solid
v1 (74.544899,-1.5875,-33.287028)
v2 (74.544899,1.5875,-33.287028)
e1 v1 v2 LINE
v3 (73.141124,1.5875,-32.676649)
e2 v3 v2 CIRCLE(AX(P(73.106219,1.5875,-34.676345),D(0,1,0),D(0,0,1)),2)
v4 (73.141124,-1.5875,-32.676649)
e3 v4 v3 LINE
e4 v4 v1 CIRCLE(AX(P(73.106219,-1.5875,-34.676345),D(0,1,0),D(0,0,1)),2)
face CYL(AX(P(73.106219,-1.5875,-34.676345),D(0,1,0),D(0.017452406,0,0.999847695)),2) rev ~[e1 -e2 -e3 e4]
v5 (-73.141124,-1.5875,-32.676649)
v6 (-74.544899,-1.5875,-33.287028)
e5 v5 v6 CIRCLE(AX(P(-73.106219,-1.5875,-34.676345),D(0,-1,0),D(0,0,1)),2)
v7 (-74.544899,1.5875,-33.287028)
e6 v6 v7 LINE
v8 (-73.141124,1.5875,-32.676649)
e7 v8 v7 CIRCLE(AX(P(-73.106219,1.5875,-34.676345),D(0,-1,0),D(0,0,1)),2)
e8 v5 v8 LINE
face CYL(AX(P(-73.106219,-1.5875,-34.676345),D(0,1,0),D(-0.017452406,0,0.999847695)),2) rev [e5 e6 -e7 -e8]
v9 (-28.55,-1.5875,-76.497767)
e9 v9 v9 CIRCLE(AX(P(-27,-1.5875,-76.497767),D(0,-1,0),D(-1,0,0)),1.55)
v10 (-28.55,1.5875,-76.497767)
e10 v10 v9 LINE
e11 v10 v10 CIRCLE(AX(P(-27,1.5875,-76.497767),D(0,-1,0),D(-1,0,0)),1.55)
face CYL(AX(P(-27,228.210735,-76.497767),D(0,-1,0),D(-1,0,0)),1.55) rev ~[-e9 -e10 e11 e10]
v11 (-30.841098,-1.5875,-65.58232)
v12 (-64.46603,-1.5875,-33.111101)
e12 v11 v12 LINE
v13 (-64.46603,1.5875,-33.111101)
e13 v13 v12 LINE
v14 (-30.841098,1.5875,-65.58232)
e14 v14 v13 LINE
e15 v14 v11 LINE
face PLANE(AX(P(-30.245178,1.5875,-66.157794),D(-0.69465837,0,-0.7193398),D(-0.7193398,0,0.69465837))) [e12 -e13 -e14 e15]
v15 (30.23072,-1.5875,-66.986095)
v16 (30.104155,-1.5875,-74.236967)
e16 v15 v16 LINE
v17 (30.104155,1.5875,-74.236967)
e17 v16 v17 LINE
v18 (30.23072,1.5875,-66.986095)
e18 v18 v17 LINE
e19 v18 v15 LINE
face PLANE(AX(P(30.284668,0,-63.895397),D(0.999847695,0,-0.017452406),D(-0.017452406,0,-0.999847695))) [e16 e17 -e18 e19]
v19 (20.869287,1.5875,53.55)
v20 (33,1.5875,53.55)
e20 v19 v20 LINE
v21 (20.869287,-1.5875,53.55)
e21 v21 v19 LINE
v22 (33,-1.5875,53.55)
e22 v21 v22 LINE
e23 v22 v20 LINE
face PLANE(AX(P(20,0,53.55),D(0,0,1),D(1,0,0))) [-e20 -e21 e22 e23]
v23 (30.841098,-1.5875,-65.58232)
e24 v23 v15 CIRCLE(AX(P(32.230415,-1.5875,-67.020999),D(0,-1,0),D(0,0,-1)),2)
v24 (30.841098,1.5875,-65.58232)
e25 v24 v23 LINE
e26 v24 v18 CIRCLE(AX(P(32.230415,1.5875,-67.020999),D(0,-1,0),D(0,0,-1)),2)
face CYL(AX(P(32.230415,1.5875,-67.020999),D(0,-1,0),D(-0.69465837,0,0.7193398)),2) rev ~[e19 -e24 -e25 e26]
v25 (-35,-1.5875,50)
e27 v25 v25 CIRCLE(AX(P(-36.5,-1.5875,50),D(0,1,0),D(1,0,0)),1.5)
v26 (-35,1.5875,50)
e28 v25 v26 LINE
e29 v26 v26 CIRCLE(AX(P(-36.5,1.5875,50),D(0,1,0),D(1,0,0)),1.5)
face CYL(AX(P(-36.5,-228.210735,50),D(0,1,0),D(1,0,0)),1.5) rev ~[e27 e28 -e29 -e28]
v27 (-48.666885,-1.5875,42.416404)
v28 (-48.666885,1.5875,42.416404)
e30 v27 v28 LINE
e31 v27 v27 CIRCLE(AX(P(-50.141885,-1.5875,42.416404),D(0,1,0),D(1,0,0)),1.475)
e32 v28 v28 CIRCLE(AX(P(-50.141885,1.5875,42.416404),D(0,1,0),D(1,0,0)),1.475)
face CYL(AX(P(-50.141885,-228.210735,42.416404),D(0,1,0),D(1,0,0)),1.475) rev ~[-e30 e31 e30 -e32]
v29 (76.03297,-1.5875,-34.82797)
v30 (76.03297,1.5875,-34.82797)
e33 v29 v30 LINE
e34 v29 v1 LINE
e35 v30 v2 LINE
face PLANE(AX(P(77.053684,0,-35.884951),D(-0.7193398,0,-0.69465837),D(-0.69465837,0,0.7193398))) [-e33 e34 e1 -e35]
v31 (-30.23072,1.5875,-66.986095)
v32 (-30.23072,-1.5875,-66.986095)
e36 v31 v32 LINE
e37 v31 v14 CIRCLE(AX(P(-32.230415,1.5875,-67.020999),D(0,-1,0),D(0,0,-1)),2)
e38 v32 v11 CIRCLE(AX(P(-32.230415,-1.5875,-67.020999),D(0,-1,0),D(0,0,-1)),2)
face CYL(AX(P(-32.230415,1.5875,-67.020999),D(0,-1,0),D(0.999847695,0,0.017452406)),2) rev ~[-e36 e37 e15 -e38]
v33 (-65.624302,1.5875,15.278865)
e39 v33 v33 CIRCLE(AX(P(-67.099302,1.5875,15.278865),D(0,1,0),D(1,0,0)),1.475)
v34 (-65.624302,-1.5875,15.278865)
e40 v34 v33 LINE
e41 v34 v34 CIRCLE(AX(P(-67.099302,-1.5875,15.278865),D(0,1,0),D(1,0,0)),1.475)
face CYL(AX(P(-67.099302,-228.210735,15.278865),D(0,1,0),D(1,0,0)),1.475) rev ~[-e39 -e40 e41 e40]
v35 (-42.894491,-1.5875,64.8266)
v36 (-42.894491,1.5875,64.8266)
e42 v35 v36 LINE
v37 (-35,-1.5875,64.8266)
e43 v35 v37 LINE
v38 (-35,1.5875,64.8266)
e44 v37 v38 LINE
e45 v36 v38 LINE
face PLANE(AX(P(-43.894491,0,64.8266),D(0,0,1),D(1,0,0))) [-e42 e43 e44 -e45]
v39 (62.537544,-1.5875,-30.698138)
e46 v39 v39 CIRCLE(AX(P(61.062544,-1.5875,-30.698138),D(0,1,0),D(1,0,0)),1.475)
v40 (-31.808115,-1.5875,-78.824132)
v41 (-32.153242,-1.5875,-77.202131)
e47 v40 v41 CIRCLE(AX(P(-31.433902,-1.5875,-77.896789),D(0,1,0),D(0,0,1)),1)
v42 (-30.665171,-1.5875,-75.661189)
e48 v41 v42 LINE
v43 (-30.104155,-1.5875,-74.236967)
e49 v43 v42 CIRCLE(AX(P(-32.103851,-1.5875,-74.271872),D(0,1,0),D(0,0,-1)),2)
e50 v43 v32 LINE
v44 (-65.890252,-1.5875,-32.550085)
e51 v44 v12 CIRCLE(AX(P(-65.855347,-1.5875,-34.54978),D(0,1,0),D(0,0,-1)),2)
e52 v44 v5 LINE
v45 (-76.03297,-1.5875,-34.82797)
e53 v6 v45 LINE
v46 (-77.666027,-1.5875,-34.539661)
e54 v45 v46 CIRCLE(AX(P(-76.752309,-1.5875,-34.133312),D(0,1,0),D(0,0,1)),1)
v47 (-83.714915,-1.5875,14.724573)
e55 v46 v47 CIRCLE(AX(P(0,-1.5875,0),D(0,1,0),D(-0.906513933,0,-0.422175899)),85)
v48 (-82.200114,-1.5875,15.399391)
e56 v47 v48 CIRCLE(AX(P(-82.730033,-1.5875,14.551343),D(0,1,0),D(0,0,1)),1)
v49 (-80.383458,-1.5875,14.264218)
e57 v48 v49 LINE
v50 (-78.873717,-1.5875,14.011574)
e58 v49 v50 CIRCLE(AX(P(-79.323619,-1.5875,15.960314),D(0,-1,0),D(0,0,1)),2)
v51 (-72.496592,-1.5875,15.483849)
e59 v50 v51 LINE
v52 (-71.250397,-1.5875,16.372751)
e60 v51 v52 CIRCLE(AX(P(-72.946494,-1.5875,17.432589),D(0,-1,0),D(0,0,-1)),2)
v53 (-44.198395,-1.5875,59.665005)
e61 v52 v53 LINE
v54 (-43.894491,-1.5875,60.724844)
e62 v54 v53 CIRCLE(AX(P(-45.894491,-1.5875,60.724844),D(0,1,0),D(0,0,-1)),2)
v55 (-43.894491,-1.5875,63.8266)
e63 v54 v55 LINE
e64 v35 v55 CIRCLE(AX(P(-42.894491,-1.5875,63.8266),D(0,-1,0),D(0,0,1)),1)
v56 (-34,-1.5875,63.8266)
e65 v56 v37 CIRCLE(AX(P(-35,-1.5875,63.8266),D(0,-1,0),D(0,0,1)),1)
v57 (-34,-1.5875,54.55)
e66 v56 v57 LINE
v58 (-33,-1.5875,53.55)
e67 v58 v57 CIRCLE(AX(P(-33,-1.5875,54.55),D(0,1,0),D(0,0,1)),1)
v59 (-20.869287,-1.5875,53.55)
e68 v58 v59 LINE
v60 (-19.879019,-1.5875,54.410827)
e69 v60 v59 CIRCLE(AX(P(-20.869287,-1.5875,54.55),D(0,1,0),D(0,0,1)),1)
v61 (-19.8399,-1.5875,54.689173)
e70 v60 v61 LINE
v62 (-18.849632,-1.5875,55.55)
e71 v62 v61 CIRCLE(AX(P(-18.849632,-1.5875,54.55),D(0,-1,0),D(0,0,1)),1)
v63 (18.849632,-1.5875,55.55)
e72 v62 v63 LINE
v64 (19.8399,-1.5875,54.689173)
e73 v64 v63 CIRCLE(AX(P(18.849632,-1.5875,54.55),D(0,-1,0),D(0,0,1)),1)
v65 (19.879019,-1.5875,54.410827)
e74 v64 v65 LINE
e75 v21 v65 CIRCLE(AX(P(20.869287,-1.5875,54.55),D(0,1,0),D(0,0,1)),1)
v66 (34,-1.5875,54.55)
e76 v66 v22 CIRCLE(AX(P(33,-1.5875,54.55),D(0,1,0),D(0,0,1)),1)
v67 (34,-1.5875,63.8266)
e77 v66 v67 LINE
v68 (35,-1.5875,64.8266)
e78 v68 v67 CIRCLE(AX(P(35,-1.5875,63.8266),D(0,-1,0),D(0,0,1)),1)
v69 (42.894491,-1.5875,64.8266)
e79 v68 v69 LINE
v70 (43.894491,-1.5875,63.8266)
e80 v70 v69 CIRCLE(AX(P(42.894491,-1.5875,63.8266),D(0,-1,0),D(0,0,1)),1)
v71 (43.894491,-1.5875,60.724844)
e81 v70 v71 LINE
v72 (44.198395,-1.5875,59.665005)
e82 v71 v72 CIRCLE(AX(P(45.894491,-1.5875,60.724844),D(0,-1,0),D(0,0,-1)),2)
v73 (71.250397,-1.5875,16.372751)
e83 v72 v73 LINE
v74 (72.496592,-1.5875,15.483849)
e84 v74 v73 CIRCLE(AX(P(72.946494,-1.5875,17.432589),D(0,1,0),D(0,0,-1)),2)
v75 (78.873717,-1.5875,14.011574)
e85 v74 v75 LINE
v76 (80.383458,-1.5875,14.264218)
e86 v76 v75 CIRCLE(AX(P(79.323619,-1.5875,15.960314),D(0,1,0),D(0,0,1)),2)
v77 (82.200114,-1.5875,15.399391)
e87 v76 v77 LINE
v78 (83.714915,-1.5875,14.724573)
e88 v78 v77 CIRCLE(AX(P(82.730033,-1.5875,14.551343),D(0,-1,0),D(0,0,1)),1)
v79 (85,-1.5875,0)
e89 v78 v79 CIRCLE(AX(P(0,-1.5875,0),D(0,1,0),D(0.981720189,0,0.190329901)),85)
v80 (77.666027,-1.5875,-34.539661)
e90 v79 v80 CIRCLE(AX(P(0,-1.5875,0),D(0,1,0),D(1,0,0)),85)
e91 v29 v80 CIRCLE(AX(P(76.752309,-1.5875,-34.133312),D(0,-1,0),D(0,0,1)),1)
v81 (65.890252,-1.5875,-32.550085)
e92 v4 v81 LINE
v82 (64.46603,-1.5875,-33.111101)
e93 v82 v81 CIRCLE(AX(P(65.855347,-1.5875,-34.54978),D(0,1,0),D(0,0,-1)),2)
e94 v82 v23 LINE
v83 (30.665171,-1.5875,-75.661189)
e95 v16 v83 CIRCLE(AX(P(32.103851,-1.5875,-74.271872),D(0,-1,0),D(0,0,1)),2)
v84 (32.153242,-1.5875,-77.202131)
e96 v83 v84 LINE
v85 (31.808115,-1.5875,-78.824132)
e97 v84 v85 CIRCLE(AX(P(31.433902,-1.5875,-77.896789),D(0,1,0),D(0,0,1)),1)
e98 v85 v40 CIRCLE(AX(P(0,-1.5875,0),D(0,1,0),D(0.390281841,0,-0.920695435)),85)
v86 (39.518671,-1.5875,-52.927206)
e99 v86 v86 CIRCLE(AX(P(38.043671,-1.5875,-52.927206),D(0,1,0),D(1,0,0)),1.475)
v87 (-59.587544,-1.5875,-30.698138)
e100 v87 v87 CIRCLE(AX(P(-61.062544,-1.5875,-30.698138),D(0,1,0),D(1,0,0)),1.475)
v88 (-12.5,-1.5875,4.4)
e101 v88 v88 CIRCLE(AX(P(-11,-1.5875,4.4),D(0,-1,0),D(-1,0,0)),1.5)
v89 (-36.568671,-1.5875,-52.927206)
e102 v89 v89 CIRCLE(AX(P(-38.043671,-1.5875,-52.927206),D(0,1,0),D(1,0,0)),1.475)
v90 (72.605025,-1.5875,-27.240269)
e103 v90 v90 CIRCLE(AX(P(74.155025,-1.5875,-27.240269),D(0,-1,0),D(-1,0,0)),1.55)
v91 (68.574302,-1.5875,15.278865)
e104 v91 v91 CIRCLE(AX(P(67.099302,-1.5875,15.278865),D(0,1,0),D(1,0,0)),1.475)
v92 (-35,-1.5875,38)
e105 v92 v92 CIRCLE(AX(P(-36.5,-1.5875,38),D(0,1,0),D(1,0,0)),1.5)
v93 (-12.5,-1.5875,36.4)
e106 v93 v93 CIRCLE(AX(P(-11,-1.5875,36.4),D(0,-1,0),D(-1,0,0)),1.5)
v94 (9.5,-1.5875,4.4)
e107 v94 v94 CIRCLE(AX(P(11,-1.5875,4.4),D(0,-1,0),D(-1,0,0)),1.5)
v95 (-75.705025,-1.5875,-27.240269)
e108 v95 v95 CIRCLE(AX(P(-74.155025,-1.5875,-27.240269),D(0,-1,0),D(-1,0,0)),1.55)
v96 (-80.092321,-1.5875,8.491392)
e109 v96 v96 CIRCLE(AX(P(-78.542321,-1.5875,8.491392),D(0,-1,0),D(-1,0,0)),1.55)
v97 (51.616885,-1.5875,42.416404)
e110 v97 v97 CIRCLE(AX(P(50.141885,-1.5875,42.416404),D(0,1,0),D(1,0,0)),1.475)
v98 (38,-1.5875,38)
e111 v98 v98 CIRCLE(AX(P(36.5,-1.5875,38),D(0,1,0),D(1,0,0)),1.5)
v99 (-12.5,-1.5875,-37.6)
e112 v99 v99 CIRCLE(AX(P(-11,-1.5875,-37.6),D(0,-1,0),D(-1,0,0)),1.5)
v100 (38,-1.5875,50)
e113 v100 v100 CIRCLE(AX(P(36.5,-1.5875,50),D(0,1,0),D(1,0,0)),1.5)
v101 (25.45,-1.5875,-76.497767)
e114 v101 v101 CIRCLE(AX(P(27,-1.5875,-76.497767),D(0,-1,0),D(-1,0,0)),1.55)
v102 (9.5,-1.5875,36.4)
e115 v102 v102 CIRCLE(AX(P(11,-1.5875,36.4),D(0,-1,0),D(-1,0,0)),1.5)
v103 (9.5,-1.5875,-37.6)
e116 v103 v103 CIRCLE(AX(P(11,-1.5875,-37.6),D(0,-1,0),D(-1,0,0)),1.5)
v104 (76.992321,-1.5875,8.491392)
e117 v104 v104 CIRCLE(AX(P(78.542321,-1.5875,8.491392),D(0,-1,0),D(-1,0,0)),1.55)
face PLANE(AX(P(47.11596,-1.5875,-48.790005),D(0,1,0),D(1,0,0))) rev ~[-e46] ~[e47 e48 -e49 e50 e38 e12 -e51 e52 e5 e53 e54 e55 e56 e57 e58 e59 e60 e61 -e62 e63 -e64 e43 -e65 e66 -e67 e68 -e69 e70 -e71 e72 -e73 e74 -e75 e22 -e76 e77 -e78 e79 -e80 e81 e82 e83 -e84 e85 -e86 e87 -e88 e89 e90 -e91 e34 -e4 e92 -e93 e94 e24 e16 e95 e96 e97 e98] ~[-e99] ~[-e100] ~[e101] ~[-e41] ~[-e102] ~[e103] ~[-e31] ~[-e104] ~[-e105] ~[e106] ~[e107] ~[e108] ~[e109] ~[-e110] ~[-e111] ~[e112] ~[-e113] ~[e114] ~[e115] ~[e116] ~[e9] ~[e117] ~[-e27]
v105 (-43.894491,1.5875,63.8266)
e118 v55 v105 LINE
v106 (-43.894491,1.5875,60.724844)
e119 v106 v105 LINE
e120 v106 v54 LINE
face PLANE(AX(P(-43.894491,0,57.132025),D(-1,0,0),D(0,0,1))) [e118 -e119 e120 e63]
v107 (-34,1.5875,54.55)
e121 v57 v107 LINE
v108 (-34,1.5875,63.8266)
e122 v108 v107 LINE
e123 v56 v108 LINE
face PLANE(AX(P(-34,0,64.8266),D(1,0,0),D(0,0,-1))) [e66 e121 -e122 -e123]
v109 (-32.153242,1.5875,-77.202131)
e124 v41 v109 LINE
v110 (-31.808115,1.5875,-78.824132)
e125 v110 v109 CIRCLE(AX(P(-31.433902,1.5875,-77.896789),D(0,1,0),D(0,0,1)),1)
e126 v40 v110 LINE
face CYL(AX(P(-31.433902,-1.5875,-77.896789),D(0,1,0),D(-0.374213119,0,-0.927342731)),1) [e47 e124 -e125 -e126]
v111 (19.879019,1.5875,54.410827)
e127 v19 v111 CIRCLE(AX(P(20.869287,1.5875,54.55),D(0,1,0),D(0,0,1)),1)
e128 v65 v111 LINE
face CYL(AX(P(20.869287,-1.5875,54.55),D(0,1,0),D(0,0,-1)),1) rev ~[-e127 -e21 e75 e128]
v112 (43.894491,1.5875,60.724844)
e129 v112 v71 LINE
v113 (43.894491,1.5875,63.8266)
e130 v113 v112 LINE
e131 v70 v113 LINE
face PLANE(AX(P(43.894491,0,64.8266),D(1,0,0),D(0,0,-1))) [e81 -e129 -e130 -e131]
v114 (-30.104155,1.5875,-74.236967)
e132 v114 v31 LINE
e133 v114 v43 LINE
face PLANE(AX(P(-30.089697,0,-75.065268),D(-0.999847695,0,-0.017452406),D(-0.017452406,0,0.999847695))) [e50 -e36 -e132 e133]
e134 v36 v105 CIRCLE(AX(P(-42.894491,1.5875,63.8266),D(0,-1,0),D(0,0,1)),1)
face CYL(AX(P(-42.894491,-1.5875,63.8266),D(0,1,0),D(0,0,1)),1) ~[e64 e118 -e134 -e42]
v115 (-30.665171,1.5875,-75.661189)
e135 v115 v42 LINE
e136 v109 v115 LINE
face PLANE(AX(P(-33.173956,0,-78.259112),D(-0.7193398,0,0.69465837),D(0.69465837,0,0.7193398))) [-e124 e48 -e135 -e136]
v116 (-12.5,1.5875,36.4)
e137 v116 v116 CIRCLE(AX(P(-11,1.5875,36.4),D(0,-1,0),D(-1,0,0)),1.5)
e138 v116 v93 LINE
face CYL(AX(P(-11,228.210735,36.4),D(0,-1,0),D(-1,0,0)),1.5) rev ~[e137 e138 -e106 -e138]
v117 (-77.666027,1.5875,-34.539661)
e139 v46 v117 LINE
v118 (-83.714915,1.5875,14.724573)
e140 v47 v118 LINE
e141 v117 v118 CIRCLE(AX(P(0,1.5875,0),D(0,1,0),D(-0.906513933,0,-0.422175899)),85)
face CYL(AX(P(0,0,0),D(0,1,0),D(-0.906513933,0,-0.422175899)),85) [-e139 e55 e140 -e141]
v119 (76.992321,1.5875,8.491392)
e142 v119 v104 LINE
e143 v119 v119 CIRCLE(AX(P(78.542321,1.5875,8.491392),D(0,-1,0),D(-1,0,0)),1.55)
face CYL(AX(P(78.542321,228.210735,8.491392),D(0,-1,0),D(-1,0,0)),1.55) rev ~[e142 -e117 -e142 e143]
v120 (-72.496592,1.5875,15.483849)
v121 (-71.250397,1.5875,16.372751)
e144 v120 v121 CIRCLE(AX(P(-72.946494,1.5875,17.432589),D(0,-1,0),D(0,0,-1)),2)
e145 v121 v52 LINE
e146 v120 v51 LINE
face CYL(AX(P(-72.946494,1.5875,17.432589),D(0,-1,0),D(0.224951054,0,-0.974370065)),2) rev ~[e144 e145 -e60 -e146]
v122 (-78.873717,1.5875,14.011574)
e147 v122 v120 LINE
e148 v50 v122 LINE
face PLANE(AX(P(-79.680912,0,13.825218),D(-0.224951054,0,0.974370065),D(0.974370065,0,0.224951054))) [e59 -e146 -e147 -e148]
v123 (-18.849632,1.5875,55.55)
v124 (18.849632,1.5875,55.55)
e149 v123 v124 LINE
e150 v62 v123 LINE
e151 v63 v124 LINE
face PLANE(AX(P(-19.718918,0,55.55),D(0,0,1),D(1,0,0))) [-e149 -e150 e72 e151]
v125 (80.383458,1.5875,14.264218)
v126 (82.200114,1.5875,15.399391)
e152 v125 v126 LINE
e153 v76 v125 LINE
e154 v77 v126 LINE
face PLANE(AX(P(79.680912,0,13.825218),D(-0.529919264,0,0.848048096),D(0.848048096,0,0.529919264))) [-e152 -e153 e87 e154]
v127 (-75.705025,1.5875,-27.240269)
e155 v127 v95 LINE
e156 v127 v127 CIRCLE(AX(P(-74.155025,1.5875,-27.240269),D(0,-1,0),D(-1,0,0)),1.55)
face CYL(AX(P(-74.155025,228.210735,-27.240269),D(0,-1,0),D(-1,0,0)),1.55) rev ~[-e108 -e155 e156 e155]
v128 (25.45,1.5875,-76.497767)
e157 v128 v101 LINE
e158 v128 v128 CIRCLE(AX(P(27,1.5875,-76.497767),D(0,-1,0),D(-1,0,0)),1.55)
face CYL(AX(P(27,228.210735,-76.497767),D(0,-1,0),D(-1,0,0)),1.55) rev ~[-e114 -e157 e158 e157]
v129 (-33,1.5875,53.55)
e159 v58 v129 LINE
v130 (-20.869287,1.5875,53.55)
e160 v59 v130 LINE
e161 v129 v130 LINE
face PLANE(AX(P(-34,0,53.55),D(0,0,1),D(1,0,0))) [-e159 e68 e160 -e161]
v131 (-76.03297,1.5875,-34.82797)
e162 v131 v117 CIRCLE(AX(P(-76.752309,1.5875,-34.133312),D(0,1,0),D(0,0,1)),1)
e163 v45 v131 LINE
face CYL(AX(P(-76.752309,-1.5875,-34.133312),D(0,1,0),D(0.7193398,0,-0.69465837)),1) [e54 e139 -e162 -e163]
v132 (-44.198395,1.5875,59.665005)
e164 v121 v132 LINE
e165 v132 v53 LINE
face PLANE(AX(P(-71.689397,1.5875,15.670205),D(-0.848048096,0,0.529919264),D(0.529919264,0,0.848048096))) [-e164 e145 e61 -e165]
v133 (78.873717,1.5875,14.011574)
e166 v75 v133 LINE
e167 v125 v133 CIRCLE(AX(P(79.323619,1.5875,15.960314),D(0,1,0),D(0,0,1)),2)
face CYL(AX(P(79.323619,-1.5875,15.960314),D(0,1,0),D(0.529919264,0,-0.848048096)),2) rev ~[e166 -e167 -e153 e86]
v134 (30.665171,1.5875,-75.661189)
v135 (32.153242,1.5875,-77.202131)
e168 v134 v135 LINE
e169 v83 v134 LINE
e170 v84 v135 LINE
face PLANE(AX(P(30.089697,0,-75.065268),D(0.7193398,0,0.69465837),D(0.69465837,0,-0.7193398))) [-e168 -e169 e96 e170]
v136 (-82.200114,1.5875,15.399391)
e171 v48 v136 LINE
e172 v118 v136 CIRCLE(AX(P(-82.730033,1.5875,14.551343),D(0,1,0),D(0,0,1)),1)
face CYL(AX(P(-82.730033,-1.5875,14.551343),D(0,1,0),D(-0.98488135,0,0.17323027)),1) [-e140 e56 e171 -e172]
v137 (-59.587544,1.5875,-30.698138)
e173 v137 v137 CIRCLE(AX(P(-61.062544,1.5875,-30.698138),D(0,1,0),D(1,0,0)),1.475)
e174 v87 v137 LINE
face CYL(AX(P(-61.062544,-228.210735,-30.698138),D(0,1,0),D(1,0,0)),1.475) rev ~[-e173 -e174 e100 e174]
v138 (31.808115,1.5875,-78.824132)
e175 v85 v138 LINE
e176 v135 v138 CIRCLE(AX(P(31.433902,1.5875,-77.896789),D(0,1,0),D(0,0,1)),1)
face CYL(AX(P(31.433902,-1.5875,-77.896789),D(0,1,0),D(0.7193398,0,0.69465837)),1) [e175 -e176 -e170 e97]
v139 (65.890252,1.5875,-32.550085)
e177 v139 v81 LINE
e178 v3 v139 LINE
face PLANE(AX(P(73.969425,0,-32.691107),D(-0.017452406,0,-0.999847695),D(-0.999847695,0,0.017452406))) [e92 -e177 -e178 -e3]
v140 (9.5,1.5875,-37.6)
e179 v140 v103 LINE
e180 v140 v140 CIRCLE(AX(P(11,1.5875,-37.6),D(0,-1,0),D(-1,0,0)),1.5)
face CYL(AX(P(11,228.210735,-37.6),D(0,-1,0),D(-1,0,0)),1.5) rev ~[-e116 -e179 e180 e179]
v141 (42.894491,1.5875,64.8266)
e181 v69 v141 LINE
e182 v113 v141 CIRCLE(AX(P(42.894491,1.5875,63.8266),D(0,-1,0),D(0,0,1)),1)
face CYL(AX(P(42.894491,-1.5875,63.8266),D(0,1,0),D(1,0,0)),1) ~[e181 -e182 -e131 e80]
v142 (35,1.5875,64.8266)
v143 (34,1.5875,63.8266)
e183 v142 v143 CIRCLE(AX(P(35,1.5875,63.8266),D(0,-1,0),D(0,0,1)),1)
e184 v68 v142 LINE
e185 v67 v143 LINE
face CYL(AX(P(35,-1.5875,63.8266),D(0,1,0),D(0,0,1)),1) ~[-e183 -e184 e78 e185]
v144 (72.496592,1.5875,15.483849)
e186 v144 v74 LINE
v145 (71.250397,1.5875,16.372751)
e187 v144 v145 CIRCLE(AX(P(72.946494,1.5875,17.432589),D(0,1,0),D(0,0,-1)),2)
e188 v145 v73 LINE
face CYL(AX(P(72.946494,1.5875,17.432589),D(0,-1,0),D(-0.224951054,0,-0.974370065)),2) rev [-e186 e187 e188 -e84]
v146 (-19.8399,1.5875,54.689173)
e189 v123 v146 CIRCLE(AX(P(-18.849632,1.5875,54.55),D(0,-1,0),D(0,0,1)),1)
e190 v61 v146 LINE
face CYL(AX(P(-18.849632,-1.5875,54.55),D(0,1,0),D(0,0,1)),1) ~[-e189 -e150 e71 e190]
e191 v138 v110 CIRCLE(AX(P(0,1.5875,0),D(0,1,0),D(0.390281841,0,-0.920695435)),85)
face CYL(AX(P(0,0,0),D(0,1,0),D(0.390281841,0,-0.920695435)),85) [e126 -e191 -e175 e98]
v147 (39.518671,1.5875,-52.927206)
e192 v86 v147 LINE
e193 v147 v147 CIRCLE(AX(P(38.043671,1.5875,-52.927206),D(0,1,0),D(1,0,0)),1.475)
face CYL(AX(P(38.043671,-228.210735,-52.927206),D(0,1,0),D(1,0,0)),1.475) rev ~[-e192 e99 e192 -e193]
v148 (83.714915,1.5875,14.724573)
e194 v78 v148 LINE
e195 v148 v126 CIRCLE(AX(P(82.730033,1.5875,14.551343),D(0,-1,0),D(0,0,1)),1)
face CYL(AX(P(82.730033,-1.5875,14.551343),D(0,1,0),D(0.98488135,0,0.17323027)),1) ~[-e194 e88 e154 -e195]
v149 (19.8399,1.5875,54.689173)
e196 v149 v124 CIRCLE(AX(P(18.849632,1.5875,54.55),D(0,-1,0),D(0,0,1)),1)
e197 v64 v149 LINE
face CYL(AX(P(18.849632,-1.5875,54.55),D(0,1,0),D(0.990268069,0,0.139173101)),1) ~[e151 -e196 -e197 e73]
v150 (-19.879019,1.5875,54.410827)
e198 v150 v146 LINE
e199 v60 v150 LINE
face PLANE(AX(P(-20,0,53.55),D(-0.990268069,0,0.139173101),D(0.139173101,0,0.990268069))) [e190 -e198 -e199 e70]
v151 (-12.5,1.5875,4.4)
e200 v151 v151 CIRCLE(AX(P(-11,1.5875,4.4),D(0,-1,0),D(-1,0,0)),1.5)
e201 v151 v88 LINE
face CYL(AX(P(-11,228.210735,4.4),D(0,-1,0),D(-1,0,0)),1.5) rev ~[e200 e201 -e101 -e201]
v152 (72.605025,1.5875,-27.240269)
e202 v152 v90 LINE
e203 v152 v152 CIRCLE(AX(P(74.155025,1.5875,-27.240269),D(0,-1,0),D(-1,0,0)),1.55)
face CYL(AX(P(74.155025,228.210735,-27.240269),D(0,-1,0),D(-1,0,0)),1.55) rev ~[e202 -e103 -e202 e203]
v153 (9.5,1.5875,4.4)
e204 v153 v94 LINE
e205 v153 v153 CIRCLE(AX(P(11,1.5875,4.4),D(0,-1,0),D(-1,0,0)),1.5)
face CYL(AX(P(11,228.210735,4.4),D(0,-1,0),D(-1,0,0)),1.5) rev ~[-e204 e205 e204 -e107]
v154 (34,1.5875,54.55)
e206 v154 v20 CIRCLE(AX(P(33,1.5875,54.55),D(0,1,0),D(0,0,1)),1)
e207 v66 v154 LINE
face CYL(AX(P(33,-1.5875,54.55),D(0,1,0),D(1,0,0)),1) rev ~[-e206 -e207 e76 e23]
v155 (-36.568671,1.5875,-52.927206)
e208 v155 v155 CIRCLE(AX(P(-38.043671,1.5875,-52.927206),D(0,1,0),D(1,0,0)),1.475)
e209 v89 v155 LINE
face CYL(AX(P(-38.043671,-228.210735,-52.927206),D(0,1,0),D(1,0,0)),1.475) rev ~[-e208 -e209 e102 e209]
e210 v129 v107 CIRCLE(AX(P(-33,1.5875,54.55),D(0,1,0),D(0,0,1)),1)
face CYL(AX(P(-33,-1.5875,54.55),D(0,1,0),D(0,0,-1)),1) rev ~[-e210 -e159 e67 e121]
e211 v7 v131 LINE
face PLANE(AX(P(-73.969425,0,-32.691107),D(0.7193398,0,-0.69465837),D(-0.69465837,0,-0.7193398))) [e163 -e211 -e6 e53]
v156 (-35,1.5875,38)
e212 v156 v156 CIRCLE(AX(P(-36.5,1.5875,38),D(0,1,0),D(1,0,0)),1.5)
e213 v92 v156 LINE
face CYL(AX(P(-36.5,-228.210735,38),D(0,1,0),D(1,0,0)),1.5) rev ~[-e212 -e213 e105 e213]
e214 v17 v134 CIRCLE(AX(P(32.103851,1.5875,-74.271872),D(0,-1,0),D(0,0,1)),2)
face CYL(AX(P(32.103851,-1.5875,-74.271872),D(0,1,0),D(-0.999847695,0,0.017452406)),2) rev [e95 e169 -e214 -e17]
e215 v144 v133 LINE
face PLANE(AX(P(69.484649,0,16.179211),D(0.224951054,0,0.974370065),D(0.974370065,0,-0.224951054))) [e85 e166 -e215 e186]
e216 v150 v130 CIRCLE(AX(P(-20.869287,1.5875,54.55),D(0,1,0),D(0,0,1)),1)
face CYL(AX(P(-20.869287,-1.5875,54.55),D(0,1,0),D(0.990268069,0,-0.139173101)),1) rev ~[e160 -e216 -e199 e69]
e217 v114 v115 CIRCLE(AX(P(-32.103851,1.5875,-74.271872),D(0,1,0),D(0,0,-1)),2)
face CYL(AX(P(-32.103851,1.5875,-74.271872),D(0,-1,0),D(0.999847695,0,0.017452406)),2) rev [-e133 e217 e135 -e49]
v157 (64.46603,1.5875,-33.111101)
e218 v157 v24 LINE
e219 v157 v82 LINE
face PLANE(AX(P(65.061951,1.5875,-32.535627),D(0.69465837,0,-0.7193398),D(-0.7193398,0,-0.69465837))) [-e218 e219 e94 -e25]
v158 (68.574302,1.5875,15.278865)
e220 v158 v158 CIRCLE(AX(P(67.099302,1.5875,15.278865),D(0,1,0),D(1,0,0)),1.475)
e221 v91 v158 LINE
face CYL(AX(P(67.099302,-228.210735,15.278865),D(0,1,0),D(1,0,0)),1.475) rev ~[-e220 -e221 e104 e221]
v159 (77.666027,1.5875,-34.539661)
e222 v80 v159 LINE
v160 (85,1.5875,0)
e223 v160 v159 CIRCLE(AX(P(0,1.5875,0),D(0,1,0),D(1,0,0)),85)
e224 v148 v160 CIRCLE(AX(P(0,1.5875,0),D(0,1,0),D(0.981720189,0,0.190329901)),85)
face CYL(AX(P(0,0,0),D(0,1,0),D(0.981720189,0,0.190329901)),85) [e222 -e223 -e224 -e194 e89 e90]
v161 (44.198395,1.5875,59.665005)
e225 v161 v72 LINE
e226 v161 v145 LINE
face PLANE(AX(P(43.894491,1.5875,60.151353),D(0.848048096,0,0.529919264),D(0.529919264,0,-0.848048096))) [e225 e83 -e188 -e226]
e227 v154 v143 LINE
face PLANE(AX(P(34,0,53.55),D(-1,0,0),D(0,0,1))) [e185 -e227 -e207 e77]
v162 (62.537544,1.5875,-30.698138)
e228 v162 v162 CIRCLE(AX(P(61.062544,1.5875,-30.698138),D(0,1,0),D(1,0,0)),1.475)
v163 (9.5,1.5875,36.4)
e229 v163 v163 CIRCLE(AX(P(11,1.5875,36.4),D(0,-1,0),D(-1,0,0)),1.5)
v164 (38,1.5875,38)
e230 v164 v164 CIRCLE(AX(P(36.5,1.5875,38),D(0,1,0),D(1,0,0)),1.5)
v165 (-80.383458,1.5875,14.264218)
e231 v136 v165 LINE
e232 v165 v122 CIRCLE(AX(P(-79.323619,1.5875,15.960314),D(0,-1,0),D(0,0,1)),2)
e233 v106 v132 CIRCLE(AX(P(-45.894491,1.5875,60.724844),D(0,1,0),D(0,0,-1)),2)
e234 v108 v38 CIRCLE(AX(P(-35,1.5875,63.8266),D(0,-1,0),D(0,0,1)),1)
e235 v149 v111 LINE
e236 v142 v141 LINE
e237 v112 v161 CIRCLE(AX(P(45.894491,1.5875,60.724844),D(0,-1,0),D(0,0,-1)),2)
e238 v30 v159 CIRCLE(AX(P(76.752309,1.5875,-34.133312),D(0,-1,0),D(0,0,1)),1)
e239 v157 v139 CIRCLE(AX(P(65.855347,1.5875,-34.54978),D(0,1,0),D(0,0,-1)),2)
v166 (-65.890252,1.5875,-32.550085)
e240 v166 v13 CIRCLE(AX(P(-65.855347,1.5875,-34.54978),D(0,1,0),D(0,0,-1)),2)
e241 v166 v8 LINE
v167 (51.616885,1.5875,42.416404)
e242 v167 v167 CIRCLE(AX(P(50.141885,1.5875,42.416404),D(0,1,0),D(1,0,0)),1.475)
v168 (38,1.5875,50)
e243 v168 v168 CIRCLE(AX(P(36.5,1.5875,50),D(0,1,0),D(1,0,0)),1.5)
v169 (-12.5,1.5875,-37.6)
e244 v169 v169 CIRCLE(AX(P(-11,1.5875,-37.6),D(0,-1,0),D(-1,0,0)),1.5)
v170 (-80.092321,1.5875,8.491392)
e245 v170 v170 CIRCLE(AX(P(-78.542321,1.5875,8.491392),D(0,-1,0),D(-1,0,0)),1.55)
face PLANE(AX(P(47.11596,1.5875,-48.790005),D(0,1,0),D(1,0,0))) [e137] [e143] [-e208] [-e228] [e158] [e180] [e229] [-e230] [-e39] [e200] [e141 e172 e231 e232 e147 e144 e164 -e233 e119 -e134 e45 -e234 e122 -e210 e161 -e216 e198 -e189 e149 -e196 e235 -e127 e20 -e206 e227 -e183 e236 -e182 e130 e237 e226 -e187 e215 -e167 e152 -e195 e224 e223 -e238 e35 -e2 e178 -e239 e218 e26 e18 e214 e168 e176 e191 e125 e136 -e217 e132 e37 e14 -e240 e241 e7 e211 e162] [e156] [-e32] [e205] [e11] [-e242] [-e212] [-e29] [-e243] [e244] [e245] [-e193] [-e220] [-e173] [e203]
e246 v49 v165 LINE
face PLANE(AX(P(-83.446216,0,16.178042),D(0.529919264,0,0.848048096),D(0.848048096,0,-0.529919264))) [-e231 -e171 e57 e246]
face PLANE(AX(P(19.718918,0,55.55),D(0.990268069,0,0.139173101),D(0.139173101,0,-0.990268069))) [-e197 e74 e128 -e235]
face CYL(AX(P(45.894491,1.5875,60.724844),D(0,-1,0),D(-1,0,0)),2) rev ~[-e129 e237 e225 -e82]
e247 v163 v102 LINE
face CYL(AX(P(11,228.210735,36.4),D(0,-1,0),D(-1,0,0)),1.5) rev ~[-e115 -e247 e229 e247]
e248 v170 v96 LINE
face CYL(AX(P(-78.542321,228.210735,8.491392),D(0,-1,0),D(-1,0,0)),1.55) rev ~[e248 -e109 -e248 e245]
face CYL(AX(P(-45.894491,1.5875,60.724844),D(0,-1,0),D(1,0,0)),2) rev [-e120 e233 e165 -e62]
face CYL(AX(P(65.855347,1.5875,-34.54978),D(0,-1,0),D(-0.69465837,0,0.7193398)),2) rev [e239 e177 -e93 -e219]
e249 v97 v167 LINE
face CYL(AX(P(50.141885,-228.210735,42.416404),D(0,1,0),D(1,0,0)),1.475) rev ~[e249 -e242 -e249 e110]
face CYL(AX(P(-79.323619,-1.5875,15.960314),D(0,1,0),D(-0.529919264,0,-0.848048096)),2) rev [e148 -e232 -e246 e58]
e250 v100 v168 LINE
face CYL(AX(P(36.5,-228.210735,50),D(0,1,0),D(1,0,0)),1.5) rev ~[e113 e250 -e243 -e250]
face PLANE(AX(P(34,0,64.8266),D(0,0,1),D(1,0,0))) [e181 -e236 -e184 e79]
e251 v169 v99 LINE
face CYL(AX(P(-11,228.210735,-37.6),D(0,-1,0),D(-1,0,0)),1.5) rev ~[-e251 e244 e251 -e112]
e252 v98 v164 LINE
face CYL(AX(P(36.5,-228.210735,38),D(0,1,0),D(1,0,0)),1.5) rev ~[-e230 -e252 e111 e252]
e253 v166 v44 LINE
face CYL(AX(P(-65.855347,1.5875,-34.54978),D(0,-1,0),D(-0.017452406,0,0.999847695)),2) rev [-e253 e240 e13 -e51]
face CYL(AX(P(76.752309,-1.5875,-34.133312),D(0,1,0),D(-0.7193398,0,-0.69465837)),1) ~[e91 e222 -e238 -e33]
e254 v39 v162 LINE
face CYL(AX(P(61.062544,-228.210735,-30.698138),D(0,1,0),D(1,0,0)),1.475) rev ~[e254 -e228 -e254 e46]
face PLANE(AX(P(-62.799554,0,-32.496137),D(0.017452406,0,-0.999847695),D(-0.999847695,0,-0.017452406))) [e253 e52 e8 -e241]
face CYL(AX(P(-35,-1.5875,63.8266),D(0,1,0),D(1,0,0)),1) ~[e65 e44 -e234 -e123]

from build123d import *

# Parameters (mm, degrees)
BOSS_EXTRUDE4_DEPTH  = 1.5875
M3_CLEARANCE_HOLE3_D = 3
M3_CLEARANCE_HOLE1_D = 3.1
M3_CLEARANCE_HOLE4_D = 2.95
M3_CLEARANCE_HOLE2_D = 3.1
M3_CLEARANCE_HOLE5_D = 3
BOSS_EXTRUDE6_DEPTH  = 3.175
FILLET1_R            = 2
FILLET3_R            = 1


with BuildPart() as part:
    # Sketch1 → Boss-Extrude4 (new, symmetric)
    with BuildSketch(Plane(origin=(0, 0, 0), x_dir=(1, 0, 0), z_dir=(0, 1, 0))):
        with BuildLine():
            Line((-62.799553621, 32.496136604), (-73.969425011, 32.691107434))
            Line((-73.969425011, 32.691107434), (-77.053684287, 35.88495141))
            ThreePointArc((-77.053684287, 35.88495141), (-84.36642289, 10.358894189), (-83.446216027, -16.178041625))
            Line((-83.446216027, -16.178041625), (-79.680911643, -13.825218315))
            Line((-79.680911643, -13.825218315), (-69.484649137, -16.179210996))
            Line((-69.484649137, -16.179210996), (-43.894490772, -57.132025032))
            Line((-43.894490772, -57.132025032), (-43.894490772, -64.826600275))
            Line((-43.894490772, -64.826600275), (-43.094490772, -64.826600275))
            Line((-43.094490772, -64.826600275), (-34, -64.826600275))
            Line((-34, -64.826600275), (-34, -55.55))
            Line((-34, -55.55), (-34, -53.55))
            Line((-34, -53.55), (-20, -53.55))
            Line((-20, -53.55), (-19.718918331, -55.55))
            Line((-19.718918331, -55.55), (19.718918331, -55.55))
            Line((19.718918331, -55.55), (20, -53.55))
            Line((20, -53.55), (34, -53.55))
            Line((34, -53.55), (34, -55.55))
            Line((34, -55.55), (34, -64.826600275))
            Line((34, -64.826600275), (43.094490772, -64.826600275))
            Line((43.094490772, -64.826600275), (43.894490772, -64.826600275))
            Line((43.894490772, -64.826600275), (43.894490772, -57.132025032))
            Line((43.894490772, -57.132025032), (69.484649137, -16.179210996))
            Line((69.484649137, -16.179210996), (79.680911643, -13.825218315))
            Line((79.680911643, -13.825218315), (83.446216027, -16.178041625))
            ThreePointArc((83.446216027, -16.178041625), (84.610662337, -8.126242604), (85, 0))
            ThreePointArc((85, 0), (82.98964744, 18.377116688), (77.053684287, 35.88495141))
            Line((77.053684287, 35.88495141), (73.969425011, 32.691107434))
            Line((73.969425011, 32.691107434), (62.799553621, 32.496136604))
            Line((62.799553621, 32.496136604), (30.284668021, 63.895396642))
            Line((30.284668021, 63.895396642), (30.089697191, 75.065268032))
            Line((30.089697191, 75.065268032), (33.173956467, 78.259112008))
            ThreePointArc((33.173956467, 78.259112008), (0, 85), (-33.173956467, 78.259112008))
            Line((-33.173956467, 78.259112008), (-30.089697191, 75.065268032))
            Line((-30.089697191, 75.065268032), (-30.284668021, 63.895396642))
            Line((-30.284668021, 63.895396642), (-62.799553621, 32.496136604))
        make_face()
    extrude(amount=BOSS_EXTRUDE4_DEPTH, both=True)

    # M3 Clearance Hole3 (through all)
    with Locations(Plane(origin=(0, -1.5875, 0), x_dir=(-1, 0, 0), z_dir=(0, -1, 0))):
        with Locations((36.5, -50), (36.5, -38), (-36.5, -50), (-36.5, -38)):
            Hole(M3_CLEARANCE_HOLE3_D / 2)

    # M3 Clearance Hole1 (through all)
    with Locations(Plane(origin=(0, 1.5875, 0), x_dir=(1, 0, 0), z_dir=(0, 1, 0))):
        with Locations((-78.542321426, -8.49139241), (78.542321426, -8.49139241), (74.155025063, 27.240269049), (-74.155025063, 27.240269049)):
            Hole(M3_CLEARANCE_HOLE1_D / 2)

    # M3 Clearance Hole4 (through all)
    with Locations(Plane(origin=(0, -1.5875, 0), x_dir=(-1, 0, 0), z_dir=(0, -1, 0))):
        with Locations((-67.099301622, -15.278865202), (-50.141885166, -42.416404279), (-61.062544382, 30.698137949), (-38.043670771, 52.927205804), (50.141885166, -42.416404279), (67.099301622, -15.278865202), (38.043670771, 52.927205804), (61.062544382, 30.698137949)):
            Hole(M3_CLEARANCE_HOLE4_D / 2)

    # M3 Clearance Hole2 (through all)
    with Locations(Plane(origin=(0, 1.5875, 0), x_dir=(1, 0, 0), z_dir=(0, 1, 0))):
        with Locations((27, 76.497766718), (-27, 76.497766718)):
            Hole(M3_CLEARANCE_HOLE2_D / 2)

    # M3 Clearance Hole5 (through all)
    with Locations(Plane(origin=(0, 1.5875, 0), x_dir=(1, 0, 0), z_dir=(0, 1, 0))):
        with Locations((-11, -4.4), (11, -4.4), (11, -36.4), (-11, -36.4), (-11, 37.6), (11, 37.6)):
            Hole(M3_CLEARANCE_HOLE5_D / 2)

    # Sketch22 → Boss-Extrude6 (add)
    with BuildSketch(Plane(origin=(0, 1.5875, 0), x_dir=(1, 0, 0), z_dir=(0, 1, 0))):
        Polygon((65.061950694, 32.535626892), (30.245177733, 66.157793715), (30.284668021, 63.895396642), (62.799553621, 32.496136604), align=None)
        Polygon((-30.284668021, 63.895396642), (-30.245177733, 66.157793715), (-65.061950694, 32.535626892), (-62.799553621, 32.496136604), align=None)
        Polygon((43.894490772, -60.151352895), (71.689396914, -15.670204865), (69.484649137, -16.179210996), (43.894490772, -57.132025032), align=None)
        Polygon((-69.484649137, -16.179210996), (-71.689396914, -15.670204865), (-43.894490772, -60.151352895), (-43.894490772, -57.132025032), align=None)
    extrude(amount=-BOSS_EXTRUDE6_DEPTH)

    # Fillet1
    fillet1_edges = [part.edges().sort_by_distance(p)[0] for p in [
        (-30.245177733, -0.79375, -66.157793715),
        (-65.061950694, -0.79375, -32.535626892),
        (-71.689396914, 0.79375, 15.670204865),
        (-43.894490772, 0.79375, 60.151352895),
        (43.894490772, -0.79375, 60.151352895),
        (71.689396914, -0.79375, 15.670204865),
        (65.061950694, -0.79375, -32.535626892),
        (30.245177733, 0.79375, -66.157793715),
        (30.089697191, -0.79375, -75.065268032),
        (73.969425011, -0.79375, -32.691107434),
        (79.680911643, -0.79375, 13.825218315),
        (-79.680911643, -0.79375, 13.825218315),
        (-73.969425011, -0.79375, -32.691107434),
        (-30.089697191, -0.79375, -75.065268032),
    ]]
    fillet(fillet1_edges, radius=FILLET1_R)

    # Fillet3
    fillet3_edges = [part.edges().sort_by_distance(p)[0] for p in [
        (33.173956467, -0.79375, -78.259112008),
        (77.053684287, 0.79375, -35.88495141),
        (83.446216027, -0.79375, 16.178041625),
        (43.894490772, -0.79375, 64.826600275),
        (34, 0.79375, 64.826600275),
        (34, -0.79375, 53.55),
        (20, -0.79375, 53.55),
        (19.718918331, 0.79375, 55.55),
        (-19.718918331, 0.79375, 55.55),
        (-20, -0.79375, 53.55),
        (-34, -0.79375, 53.55),
        (-34, 0.79375, 64.826600275),
        (-43.894490772, -0.79375, 64.826600275),
        (-83.446216027, -0.79375, 16.178041625),
        (-77.053684287, -0.79375, -35.88495141),
        (-33.173956467, -0.79375, -78.259112008),
    ]]
    fillet(fillet3_edges, radius=FILLET3_R)


solid = part.part
